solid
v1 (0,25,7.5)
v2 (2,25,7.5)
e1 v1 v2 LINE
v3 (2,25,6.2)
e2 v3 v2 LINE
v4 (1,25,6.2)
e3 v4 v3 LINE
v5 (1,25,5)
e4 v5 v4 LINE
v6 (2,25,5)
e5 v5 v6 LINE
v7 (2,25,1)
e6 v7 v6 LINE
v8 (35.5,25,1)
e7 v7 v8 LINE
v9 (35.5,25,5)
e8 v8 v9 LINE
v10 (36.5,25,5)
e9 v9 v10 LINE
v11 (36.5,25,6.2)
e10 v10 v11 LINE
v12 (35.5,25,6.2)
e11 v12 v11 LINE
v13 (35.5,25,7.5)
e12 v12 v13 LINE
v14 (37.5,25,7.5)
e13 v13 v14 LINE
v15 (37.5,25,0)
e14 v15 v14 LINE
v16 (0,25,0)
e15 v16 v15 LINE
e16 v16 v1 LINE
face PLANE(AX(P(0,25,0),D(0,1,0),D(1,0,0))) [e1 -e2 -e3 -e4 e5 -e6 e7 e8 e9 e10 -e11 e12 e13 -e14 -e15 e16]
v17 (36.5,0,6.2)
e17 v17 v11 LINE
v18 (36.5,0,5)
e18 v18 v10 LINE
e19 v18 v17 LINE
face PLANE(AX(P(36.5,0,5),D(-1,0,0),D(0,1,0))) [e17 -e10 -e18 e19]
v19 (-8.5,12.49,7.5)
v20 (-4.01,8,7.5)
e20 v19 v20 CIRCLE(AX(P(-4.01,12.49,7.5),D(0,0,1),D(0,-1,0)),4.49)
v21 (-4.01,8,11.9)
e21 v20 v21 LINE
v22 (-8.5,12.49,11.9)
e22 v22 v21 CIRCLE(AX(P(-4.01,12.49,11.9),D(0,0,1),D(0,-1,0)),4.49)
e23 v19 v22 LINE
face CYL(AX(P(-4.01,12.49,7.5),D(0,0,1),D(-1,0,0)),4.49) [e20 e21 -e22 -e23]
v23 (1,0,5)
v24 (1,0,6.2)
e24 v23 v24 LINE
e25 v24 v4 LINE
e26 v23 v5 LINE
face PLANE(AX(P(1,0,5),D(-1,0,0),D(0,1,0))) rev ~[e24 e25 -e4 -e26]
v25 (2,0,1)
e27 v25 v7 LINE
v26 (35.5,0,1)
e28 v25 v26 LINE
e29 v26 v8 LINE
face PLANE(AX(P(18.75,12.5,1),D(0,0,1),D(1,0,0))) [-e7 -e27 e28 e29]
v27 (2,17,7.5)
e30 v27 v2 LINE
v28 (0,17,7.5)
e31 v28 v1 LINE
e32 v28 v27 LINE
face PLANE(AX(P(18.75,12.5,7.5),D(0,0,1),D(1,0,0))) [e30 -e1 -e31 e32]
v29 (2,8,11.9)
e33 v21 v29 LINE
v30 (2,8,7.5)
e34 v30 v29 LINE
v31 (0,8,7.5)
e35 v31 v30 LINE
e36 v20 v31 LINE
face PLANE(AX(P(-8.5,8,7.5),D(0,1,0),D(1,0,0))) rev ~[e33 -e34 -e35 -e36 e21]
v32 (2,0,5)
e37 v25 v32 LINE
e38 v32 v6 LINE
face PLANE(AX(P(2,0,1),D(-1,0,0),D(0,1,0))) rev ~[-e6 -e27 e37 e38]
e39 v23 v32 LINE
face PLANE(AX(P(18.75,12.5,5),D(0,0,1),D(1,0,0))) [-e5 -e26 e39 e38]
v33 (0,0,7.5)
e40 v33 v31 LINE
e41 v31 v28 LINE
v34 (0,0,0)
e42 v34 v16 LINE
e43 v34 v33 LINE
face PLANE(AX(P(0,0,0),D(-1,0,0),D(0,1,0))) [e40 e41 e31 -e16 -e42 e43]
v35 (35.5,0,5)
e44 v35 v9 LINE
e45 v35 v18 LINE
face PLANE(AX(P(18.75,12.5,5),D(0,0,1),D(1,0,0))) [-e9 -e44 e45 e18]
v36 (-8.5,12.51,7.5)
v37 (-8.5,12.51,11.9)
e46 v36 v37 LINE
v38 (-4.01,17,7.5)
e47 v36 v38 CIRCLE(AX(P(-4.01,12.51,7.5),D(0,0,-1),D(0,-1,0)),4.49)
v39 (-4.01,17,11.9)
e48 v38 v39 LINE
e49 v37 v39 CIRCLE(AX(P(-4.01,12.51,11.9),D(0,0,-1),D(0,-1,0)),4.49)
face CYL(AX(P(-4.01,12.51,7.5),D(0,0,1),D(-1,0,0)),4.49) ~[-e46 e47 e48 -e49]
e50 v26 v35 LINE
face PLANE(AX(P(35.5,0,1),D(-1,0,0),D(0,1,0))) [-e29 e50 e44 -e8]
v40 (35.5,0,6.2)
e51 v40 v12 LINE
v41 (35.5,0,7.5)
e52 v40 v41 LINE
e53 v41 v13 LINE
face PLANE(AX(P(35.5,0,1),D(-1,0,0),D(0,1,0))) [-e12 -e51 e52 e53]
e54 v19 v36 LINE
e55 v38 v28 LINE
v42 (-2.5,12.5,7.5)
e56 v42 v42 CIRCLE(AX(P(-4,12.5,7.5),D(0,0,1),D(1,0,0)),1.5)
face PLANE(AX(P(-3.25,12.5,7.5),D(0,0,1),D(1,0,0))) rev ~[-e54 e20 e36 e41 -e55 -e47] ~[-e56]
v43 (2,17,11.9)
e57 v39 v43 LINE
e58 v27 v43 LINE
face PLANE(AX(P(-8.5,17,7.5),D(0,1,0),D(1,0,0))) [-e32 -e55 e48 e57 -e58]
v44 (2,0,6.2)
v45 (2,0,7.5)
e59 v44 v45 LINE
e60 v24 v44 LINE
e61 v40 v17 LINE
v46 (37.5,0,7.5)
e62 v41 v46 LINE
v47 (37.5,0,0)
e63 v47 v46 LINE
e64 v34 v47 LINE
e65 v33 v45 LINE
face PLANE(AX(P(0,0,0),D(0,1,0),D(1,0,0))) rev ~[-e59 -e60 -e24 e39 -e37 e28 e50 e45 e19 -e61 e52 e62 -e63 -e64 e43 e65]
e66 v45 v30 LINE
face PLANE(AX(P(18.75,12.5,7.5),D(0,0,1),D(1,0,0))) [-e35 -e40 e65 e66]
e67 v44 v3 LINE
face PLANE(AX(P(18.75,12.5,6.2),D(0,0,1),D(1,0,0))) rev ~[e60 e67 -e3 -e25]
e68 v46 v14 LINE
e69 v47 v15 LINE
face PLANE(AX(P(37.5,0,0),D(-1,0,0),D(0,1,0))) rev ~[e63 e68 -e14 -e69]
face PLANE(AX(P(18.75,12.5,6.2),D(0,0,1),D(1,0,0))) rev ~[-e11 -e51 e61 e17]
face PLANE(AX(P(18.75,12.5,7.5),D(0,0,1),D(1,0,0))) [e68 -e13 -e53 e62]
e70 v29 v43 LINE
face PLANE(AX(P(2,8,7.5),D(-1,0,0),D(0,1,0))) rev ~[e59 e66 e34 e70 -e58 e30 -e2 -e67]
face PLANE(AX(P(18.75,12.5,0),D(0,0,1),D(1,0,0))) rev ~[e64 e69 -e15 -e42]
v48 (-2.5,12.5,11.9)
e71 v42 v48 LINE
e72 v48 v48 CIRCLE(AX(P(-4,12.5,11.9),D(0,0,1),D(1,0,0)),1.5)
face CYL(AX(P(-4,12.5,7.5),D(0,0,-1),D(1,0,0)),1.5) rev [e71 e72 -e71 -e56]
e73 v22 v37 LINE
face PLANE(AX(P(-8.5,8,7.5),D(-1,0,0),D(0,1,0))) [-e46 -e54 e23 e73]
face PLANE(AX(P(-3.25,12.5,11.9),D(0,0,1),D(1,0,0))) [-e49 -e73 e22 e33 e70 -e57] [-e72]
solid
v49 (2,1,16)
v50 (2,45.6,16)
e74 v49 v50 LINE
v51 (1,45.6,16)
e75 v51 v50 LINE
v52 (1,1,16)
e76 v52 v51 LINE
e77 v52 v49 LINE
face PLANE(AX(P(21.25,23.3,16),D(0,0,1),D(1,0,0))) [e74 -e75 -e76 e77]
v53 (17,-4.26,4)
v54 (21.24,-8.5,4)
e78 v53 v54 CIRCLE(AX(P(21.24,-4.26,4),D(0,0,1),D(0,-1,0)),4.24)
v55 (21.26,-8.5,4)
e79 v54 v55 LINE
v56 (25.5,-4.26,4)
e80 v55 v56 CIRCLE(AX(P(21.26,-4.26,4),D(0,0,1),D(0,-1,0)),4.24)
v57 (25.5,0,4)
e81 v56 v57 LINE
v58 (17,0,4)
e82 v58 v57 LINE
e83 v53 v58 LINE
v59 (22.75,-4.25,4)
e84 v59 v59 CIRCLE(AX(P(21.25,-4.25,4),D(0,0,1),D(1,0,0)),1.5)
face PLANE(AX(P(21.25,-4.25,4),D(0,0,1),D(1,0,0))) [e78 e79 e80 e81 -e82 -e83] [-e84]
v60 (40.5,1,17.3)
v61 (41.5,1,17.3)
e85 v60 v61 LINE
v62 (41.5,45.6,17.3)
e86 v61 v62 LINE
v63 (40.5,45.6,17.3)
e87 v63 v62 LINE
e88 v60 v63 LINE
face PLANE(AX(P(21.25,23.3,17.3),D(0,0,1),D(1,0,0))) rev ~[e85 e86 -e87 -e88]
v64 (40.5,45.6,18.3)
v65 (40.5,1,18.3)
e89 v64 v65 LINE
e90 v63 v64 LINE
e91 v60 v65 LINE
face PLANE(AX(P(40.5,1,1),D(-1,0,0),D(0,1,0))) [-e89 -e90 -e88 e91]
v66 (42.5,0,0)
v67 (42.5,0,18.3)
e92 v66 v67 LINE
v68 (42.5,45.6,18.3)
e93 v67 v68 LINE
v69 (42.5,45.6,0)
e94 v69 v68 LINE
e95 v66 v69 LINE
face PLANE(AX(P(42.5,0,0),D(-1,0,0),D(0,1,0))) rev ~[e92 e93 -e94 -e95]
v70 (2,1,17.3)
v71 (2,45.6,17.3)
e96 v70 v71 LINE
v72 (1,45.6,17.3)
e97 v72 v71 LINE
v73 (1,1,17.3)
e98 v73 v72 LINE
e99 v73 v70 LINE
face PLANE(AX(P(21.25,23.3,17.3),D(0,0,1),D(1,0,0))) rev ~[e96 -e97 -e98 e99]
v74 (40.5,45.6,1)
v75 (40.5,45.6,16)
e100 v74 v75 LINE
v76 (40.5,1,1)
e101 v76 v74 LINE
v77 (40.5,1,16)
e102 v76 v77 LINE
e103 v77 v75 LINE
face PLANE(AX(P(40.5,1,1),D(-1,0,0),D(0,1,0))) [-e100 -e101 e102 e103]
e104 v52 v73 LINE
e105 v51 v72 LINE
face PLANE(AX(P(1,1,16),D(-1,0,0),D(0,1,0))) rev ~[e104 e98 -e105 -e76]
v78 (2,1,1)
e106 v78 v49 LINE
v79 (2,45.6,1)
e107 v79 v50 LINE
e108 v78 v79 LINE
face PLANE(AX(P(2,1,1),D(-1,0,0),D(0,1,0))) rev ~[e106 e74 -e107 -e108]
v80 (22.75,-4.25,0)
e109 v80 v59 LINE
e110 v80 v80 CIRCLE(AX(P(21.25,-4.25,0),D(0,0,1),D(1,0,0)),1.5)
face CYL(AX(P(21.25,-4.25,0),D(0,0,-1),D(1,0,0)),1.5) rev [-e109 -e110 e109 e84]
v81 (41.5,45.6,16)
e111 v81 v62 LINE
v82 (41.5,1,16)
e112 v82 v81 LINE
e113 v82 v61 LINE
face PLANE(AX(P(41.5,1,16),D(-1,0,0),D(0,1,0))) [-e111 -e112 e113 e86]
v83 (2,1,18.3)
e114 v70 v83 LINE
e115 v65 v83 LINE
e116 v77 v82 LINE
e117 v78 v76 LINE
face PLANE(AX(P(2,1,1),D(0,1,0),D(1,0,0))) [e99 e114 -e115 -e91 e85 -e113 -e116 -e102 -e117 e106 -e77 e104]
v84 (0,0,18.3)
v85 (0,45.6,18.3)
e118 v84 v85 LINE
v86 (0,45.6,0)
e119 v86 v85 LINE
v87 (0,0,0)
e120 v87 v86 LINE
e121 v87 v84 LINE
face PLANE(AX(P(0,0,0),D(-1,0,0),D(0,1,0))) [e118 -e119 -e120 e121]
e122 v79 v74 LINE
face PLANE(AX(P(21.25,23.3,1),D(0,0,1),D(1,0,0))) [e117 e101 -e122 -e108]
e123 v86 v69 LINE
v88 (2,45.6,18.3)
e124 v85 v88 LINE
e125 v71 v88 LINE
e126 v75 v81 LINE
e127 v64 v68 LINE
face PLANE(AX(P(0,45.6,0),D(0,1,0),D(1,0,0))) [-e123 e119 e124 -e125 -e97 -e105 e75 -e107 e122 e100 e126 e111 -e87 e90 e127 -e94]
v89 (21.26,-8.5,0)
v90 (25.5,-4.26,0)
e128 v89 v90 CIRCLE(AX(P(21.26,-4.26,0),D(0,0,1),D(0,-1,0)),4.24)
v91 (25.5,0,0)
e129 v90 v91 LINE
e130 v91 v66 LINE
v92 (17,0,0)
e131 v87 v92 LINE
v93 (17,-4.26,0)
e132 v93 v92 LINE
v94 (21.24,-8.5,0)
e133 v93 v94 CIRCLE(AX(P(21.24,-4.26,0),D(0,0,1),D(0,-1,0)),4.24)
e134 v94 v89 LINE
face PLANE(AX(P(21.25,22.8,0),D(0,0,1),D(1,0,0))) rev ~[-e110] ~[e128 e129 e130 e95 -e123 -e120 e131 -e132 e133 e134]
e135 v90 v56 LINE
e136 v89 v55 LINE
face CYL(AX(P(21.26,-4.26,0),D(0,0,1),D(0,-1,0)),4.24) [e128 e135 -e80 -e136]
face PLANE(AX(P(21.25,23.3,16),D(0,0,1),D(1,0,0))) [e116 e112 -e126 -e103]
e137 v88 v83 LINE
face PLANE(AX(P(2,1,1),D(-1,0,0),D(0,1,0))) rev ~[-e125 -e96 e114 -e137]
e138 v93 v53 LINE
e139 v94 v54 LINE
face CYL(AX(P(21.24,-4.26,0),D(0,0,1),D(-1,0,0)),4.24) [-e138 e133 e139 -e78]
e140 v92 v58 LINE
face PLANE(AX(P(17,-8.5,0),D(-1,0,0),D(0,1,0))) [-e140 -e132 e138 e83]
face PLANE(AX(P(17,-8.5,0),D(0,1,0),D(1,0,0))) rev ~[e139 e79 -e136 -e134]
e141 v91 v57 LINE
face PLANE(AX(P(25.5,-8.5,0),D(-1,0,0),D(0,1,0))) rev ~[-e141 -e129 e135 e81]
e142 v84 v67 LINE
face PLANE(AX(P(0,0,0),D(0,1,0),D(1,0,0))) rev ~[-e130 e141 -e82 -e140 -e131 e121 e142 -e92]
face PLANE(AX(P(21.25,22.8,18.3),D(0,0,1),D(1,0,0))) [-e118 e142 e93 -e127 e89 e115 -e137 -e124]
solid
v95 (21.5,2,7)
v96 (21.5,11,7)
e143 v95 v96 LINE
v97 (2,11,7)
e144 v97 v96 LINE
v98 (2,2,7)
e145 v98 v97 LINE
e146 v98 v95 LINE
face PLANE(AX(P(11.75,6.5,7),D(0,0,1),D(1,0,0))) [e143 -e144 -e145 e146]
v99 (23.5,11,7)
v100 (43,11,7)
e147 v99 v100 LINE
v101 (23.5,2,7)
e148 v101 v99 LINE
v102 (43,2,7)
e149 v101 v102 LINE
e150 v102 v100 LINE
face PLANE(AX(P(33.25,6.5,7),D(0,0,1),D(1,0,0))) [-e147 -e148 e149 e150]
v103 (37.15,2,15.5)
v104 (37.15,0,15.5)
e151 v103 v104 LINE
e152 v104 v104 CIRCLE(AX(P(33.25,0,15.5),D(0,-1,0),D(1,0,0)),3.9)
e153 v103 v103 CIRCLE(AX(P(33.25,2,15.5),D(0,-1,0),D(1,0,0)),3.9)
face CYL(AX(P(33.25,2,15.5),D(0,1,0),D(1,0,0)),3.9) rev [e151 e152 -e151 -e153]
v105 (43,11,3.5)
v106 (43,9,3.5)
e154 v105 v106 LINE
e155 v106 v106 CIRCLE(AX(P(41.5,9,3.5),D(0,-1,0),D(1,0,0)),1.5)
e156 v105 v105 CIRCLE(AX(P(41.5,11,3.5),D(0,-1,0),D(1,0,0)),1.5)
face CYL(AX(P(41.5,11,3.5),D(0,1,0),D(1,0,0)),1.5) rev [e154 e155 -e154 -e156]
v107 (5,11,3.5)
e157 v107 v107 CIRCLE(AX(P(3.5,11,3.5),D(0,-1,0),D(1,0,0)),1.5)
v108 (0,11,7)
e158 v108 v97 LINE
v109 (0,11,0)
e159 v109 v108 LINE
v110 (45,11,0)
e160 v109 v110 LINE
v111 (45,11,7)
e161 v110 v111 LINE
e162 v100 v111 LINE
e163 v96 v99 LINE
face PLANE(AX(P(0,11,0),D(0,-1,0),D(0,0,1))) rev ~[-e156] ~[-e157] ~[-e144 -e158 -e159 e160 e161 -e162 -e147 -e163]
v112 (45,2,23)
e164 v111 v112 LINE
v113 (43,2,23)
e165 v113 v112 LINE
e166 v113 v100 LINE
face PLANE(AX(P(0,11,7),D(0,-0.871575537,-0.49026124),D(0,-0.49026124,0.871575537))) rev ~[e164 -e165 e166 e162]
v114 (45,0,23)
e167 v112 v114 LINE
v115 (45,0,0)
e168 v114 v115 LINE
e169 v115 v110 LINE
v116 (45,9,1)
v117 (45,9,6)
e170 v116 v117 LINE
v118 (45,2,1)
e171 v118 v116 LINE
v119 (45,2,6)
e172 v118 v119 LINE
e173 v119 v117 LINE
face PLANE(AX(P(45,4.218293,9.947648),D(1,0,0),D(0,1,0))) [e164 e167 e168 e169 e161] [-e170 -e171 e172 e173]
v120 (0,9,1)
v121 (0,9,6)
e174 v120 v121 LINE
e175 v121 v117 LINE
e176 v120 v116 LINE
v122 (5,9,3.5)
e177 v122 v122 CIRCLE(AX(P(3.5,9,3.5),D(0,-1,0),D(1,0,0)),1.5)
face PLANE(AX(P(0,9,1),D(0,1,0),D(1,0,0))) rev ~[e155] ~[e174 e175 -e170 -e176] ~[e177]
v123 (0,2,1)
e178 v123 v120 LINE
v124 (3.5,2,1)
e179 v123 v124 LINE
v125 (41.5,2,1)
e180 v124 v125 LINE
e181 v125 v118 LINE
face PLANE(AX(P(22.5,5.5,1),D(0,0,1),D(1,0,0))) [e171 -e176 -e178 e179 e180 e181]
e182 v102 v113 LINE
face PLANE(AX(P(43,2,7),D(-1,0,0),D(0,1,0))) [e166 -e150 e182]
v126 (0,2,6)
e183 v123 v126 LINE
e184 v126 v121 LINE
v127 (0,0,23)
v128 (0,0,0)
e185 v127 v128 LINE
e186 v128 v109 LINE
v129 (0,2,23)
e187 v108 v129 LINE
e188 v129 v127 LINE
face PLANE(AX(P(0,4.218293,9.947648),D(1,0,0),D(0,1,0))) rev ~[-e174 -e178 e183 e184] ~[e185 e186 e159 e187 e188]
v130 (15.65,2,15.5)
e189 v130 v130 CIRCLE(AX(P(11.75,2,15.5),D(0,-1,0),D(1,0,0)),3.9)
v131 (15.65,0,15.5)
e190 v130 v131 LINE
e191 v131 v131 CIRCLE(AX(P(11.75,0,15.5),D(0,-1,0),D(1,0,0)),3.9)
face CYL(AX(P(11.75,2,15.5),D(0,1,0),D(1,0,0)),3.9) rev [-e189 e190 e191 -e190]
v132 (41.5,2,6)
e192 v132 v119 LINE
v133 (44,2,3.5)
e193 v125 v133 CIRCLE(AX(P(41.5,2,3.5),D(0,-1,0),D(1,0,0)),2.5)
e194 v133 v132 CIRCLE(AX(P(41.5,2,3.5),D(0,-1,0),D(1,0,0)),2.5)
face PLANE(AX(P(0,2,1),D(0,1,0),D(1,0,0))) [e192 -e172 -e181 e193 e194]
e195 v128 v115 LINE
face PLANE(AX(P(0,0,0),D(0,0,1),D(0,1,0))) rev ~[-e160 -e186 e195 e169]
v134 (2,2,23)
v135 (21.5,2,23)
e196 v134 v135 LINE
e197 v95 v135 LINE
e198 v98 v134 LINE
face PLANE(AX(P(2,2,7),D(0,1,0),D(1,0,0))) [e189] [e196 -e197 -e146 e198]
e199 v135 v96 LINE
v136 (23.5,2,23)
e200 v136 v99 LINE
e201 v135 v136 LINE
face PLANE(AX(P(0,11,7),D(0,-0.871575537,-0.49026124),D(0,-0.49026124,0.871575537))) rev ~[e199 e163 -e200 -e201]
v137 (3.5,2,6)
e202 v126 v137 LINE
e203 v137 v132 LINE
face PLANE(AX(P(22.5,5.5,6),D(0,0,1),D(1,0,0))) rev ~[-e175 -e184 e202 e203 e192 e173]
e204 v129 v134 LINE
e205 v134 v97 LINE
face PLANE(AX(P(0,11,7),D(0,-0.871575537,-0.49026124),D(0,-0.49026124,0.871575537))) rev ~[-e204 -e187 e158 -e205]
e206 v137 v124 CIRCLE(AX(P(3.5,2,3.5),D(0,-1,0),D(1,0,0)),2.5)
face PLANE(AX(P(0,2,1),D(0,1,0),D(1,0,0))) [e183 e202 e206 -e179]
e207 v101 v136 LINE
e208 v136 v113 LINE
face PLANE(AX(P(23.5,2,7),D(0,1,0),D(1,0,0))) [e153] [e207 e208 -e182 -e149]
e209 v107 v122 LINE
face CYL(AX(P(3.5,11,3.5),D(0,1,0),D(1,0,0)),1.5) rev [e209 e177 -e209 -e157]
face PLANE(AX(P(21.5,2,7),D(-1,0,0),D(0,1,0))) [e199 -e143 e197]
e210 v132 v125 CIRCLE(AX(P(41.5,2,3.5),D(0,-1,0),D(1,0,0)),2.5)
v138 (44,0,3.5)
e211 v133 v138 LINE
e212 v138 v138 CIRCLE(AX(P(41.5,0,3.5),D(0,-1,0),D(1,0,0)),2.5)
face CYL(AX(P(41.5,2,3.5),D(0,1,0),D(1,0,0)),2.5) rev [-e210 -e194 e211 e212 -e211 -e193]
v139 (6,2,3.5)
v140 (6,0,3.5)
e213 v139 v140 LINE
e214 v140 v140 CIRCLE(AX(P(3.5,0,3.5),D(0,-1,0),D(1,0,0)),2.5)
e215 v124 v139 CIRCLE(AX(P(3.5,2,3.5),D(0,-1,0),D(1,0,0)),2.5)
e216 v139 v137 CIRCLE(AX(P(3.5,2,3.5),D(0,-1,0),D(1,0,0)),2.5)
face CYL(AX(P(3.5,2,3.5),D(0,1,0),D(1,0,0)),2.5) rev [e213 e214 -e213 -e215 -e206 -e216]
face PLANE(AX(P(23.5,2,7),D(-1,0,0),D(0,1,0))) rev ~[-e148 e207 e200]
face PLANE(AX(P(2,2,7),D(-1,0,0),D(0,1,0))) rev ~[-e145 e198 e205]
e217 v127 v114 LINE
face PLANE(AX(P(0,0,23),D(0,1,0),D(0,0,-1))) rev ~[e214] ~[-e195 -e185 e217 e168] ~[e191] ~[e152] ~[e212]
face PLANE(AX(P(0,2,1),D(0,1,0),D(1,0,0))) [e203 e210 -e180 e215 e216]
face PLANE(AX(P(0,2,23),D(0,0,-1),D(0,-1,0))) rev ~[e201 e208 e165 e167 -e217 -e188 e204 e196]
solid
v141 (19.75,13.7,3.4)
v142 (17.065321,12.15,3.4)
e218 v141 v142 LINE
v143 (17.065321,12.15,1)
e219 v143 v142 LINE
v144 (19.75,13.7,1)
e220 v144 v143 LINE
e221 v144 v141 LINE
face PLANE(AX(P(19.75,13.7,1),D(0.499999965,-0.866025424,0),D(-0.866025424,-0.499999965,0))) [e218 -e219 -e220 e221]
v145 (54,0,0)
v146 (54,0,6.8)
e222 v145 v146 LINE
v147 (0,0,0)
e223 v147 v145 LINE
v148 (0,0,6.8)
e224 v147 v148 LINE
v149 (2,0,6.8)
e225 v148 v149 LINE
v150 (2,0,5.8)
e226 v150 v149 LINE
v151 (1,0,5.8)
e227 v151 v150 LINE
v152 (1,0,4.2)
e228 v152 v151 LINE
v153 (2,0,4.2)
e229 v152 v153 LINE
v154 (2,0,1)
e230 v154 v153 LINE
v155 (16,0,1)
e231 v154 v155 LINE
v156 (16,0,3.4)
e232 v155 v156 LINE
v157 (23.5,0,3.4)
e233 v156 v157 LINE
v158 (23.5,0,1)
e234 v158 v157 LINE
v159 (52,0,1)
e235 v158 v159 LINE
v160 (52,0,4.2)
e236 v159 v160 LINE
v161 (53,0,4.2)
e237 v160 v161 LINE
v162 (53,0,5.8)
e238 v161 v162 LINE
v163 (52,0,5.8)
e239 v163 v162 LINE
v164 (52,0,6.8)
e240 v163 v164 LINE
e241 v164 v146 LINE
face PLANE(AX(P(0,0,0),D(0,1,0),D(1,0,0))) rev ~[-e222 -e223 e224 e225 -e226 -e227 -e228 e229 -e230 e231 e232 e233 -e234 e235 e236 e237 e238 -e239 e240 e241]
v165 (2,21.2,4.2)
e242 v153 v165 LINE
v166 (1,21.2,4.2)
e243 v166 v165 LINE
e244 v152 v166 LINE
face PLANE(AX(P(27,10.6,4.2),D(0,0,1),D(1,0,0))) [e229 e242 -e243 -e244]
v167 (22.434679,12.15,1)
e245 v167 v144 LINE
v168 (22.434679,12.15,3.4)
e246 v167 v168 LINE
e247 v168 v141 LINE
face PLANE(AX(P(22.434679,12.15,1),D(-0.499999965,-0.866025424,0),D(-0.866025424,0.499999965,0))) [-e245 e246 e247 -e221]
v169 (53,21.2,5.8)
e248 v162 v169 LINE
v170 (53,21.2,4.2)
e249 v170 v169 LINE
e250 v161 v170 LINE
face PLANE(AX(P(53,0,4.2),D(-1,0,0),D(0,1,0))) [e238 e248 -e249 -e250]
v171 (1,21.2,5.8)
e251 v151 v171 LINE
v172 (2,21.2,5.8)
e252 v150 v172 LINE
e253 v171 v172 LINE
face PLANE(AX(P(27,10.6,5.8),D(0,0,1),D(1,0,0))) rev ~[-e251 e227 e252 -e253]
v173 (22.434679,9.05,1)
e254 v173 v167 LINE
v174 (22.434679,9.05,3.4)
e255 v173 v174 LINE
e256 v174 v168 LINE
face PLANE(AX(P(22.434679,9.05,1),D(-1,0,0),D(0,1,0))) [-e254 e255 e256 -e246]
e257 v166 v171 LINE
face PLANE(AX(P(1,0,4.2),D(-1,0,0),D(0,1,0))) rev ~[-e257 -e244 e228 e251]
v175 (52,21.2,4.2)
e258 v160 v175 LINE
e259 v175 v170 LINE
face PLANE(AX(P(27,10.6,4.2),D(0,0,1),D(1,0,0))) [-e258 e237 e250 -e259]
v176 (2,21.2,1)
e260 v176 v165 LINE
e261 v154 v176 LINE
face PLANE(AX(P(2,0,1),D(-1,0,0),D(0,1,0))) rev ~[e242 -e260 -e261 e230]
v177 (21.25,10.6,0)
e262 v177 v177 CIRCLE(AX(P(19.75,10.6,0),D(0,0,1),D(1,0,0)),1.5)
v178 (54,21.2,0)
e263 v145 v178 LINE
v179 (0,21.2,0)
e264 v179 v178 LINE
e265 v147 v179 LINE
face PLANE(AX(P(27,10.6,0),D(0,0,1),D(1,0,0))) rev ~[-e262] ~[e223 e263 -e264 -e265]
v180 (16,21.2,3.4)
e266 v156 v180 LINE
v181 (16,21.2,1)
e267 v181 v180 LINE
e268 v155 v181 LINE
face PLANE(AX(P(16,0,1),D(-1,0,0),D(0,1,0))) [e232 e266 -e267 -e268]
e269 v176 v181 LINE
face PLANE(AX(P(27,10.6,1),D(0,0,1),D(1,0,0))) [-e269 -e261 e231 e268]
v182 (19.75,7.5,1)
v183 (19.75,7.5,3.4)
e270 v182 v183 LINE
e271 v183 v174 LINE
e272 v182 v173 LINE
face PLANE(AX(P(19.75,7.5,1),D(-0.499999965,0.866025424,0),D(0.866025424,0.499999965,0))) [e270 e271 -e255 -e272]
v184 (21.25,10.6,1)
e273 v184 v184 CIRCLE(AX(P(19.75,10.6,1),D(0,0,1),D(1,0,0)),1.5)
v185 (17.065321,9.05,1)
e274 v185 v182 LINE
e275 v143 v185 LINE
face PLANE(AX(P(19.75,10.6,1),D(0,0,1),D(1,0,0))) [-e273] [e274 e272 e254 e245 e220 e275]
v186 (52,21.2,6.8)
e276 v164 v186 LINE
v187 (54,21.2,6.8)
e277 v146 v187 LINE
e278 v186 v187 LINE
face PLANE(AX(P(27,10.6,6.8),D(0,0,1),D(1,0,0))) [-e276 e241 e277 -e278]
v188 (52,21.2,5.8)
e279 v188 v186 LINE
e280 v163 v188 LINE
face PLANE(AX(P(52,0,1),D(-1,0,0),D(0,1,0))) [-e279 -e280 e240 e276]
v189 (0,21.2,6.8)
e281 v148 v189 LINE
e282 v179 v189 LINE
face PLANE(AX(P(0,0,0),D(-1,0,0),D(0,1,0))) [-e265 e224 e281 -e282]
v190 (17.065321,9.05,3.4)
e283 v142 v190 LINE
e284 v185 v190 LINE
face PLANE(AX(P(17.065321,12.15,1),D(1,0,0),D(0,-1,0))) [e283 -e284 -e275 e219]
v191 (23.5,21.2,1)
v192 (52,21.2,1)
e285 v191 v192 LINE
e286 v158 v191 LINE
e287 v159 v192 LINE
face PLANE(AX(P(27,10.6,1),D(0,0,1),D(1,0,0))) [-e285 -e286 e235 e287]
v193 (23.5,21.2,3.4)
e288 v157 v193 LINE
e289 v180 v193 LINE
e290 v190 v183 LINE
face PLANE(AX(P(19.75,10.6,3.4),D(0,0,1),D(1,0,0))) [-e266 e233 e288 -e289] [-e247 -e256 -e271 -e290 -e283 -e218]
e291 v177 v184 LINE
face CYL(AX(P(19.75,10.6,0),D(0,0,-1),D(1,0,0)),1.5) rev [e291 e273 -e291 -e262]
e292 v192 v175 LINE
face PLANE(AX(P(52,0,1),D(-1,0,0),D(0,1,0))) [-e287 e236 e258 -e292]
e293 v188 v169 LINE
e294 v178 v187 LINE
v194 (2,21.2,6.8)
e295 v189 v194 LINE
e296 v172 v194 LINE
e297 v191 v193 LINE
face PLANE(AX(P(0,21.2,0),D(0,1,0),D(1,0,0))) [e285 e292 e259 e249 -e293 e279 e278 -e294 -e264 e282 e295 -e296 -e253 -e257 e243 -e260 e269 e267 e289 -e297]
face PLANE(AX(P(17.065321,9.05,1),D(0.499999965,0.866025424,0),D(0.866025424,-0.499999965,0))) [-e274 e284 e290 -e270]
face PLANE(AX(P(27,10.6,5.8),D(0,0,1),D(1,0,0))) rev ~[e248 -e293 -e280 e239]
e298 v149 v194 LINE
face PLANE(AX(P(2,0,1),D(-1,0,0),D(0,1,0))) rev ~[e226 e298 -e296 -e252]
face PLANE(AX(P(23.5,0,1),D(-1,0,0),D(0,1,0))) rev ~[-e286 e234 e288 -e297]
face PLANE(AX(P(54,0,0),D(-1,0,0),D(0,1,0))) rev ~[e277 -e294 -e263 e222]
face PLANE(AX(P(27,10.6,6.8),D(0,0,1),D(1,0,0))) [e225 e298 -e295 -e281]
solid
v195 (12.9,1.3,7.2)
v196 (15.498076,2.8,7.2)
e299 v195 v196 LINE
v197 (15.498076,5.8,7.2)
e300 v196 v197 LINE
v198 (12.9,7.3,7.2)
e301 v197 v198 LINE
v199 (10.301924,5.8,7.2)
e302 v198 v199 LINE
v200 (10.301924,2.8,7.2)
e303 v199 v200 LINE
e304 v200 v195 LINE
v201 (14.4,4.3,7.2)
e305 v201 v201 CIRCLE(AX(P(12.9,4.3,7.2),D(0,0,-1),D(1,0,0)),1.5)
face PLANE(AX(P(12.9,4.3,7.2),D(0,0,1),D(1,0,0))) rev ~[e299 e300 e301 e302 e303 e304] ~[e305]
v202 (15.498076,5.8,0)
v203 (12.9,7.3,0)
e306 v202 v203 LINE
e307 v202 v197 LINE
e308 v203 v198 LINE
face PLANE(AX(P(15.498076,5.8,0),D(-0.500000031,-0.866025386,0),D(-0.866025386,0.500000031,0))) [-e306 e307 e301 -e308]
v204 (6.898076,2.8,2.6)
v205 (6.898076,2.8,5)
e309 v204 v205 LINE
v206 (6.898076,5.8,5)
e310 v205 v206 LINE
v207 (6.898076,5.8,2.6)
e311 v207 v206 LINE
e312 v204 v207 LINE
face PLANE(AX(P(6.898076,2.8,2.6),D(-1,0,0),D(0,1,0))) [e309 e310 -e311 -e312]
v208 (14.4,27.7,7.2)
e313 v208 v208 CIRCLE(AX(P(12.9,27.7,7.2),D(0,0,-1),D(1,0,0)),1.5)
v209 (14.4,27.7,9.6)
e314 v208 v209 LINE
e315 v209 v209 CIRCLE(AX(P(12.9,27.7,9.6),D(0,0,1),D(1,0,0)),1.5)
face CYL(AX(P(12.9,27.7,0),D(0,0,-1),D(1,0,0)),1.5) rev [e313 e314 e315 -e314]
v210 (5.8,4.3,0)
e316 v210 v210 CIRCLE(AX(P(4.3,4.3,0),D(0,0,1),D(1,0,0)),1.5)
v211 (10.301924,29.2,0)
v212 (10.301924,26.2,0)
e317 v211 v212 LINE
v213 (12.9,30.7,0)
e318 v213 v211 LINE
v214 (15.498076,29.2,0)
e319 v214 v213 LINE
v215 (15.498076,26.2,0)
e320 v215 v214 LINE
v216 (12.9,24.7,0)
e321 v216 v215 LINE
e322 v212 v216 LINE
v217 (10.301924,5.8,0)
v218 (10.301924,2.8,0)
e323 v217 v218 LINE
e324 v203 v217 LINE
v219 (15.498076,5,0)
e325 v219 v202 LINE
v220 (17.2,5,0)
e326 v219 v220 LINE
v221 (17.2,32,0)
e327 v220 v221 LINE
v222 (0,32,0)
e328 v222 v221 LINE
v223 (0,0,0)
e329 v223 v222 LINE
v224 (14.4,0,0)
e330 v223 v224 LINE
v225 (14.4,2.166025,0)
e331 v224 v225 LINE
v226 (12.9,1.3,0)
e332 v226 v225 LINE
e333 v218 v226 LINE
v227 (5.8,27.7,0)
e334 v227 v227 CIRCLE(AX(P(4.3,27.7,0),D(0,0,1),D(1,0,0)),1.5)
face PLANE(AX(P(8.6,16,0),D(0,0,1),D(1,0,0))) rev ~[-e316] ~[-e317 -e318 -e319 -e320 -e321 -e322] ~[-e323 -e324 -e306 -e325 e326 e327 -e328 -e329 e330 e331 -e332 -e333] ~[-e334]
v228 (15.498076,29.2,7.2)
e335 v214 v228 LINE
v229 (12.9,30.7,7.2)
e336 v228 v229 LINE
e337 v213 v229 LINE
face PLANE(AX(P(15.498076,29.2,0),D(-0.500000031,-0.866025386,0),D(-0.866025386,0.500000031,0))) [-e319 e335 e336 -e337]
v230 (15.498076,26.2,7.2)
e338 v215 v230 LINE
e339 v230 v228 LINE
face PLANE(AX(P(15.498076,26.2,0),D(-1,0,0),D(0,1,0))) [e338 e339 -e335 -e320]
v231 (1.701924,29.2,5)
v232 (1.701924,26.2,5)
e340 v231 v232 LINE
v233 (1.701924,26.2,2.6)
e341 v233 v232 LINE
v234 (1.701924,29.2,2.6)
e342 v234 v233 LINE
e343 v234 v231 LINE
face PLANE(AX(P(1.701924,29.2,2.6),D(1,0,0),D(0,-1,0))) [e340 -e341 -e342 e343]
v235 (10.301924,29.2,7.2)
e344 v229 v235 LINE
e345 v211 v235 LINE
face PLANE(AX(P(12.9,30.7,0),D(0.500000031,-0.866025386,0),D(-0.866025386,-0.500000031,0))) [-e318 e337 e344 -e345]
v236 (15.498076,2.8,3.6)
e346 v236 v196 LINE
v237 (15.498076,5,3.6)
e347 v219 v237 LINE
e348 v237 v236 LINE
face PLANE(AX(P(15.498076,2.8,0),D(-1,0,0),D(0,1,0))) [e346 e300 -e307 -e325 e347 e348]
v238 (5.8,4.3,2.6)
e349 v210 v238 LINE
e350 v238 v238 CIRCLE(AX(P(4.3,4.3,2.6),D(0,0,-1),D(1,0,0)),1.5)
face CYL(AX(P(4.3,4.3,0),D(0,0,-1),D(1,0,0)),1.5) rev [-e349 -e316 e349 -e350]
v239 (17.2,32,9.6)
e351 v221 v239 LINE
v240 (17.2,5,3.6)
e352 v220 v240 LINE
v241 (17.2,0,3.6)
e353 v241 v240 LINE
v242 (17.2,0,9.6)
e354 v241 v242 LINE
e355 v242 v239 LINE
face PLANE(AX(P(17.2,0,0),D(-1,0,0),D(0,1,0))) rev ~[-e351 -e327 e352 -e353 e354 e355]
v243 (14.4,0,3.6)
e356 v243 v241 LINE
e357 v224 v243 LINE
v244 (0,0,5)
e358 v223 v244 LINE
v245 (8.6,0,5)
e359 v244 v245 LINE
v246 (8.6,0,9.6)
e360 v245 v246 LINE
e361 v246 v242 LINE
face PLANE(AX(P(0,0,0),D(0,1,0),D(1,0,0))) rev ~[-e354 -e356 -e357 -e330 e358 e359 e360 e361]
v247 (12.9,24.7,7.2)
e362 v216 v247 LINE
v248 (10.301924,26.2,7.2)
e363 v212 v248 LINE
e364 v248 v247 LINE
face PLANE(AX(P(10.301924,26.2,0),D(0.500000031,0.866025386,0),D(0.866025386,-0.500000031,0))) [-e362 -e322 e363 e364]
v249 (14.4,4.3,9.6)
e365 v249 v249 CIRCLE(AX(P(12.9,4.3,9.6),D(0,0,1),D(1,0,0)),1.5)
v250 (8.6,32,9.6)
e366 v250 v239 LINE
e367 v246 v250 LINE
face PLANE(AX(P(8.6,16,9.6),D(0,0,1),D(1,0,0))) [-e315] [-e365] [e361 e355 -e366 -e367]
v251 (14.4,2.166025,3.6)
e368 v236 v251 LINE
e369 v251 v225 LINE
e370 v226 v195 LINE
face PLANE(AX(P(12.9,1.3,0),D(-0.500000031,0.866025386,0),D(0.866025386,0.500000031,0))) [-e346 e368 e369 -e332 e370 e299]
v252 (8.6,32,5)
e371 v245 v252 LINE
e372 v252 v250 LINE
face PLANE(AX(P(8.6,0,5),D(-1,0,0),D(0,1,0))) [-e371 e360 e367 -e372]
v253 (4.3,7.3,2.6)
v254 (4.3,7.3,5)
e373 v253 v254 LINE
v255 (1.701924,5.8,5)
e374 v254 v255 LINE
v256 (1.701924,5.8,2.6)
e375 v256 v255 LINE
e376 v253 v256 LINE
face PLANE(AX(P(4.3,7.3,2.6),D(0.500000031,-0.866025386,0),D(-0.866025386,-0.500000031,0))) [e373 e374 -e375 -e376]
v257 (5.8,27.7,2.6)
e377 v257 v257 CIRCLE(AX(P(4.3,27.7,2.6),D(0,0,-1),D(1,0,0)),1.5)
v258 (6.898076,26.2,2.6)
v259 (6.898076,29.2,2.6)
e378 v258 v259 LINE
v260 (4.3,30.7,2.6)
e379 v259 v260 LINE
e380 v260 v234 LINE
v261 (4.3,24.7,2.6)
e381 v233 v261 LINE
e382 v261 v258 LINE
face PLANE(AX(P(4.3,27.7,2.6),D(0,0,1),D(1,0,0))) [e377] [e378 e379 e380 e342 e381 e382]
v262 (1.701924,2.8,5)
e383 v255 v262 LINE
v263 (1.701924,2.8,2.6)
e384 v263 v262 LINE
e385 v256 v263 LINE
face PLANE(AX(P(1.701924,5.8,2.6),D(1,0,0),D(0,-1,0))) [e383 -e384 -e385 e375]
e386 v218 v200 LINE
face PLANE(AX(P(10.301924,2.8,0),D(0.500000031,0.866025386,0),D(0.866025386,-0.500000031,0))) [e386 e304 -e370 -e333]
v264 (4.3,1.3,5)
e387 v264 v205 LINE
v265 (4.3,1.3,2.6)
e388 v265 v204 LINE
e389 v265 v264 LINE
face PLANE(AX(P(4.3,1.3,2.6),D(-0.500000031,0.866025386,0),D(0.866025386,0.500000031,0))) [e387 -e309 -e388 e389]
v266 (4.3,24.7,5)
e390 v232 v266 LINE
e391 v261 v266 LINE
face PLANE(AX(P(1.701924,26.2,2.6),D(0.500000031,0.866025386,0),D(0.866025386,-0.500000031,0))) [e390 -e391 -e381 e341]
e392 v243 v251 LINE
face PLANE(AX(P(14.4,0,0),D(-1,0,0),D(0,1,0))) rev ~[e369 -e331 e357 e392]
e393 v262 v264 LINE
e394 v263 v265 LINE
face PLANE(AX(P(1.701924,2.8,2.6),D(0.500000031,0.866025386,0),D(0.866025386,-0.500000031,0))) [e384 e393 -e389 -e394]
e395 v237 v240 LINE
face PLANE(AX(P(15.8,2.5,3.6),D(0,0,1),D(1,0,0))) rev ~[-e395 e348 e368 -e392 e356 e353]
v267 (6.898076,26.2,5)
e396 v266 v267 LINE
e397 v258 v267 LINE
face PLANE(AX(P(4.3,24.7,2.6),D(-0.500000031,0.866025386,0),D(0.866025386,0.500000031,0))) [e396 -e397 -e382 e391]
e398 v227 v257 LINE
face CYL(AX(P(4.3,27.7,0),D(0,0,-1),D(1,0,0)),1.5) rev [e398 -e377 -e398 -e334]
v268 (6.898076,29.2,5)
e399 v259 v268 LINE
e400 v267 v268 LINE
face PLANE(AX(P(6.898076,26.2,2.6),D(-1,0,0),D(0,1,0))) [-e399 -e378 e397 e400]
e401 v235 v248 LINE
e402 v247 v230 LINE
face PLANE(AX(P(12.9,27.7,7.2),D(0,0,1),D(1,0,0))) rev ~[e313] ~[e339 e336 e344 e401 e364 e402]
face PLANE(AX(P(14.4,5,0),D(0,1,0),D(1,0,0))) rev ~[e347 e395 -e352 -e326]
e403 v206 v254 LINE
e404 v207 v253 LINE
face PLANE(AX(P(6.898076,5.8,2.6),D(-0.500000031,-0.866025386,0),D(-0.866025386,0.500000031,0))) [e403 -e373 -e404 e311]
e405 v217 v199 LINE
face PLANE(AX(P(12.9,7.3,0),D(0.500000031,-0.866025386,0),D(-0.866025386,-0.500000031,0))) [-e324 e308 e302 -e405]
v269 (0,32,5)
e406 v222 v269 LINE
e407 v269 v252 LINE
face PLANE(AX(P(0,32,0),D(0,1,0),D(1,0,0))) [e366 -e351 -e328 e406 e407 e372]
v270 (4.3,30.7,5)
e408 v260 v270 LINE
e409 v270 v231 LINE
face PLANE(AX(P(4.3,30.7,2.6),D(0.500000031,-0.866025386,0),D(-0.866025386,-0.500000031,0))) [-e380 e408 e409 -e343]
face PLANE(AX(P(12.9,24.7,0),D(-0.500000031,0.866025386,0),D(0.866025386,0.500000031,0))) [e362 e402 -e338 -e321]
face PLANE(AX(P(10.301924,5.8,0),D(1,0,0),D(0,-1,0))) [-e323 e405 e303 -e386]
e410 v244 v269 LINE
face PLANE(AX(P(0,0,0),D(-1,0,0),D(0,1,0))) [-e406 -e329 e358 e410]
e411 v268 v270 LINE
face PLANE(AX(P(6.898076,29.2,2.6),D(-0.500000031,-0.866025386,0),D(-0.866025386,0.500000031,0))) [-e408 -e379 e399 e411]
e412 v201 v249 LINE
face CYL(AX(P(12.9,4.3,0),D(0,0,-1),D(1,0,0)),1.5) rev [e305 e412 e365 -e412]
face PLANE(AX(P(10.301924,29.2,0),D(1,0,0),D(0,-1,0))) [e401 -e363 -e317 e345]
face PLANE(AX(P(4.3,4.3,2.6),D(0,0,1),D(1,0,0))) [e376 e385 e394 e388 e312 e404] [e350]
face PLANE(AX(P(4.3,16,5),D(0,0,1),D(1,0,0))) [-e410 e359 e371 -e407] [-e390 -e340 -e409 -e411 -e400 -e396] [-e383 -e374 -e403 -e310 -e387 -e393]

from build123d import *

# Parameters (mm, degrees)
PAD003_DEPTH      = 7.2
PAD002_DEPTH      = 7.2
PAD001_DEPTH      = 2.4
PAD_DEPTH         = 2.4
CYLINDER003_R     = 1.5
CYLINDER003_DEPTH = 5
CYLINDER002_R     = 1.5
CYLINDER002_DEPTH = 5
CYLINDER001_R     = 1.5
CYLINDER001_DEPTH = 9.6
CYLINDER_R        = 1.5
CYLINDER_DEPTH    = 9.6
BOX002_W          = 8.6
BOX002_H          = 32
BOX002_DEPTH      = 4.6
BOX001_W          = 2.8
BOX001_H          = 5
BOX001_DEPTH      = 3.6
BOX_W             = 17.2
BOX_H             = 32
BOX_DEPTH         = 9.6
CYLINDER004_R     = 1.5
CYLINDER004_DEPTH = 4.4
BOX006_W          = 10.5
BOX006_H          = 9
BOX006_DEPTH      = 4.4
FILLET_R          = 4.49
BOX005_W          = 35.5
BOX005_H          = 25
BOX005_DEPTH      = 1.2
BOX003_W          = 33.5
BOX003_H          = 25
BOX003_DEPTH      = 6.5
BOX004_W          = 37.5
BOX004_H          = 25
BOX004_DEPTH      = 7.5
CYLINDER005_R     = 1.5
CYLINDER005_DEPTH = 1
PAD004_DEPTH      = 2.4
BOX010_W          = 7.5
BOX010_H          = 21.2
BOX010_DEPTH      = 2.4
BOX009_W          = 52
BOX009_H          = 21.2
BOX009_DEPTH      = 1.6
BOX008_W          = 50
BOX008_H          = 21.2
BOX008_DEPTH      = 5.8
BOX007_W          = 54
BOX007_H          = 21.2
BOX007_DEPTH      = 6.8
CYLINDER011_R     = 3.9
CYLINDER011_DEPTH = 2
CYLINDER010_R     = 3.9
CYLINDER010_DEPTH = 2
CYLINDER009_R     = 1.5
CYLINDER009_DEPTH = 2
CYLINDER008_R     = 2.5
CYLINDER008_DEPTH = 2
CYLINDER007_R     = 1.5
CYLINDER007_DEPTH = 2
CYLINDER006_R     = 2.5
CYLINDER006_DEPTH = 2
BOX013_W          = 19.5
BOX013_H          = 9
BOX013_DEPTH      = 16
BOX012_W          = 19.5
BOX012_H          = 9
BOX012_DEPTH      = 16
BOX011_W          = 45
BOX011_H          = 7
BOX011_DEPTH      = 5
PAD005_DEPTH      = 45
CYLINDER012_R     = 1.5
CYLINDER012_DEPTH = 4
BOX017_W          = 8.5
BOX017_H          = 8.5
BOX017_DEPTH      = 4
FILLET001_R       = 4.24
BOX016_W          = 40.5
BOX016_H          = 44.6
BOX016_DEPTH      = 1.3
BOX015_W          = 38.5
BOX015_H          = 44.6
BOX015_DEPTH      = 18.3
BOX014_W          = 42.5
BOX014_H          = 45.6
BOX014_DEPTH      = 18.3


with BuildPart() as nut_hole003:
    # Sketch003 → Pad003 (new body)
    with BuildSketch(Plane.XY):
        Polygon((0, 3), (-2.598076, 1.5), (-2.598076, -1.5), (0, -3), (2.598076, -1.5), (2.598076, 1.5), align=None)
    extrude(amount=PAD003_DEPTH)


with BuildPart() as nut_hole003_1:
    # Body003 placement: moved
    add(nut_hole003.part.moved(Location((12.9, 4.3, 0))))


with BuildPart() as nut_hole002:
    # Sketch002 → Pad002 (new body)
    with BuildSketch(Plane.XY):
        Polygon((0, 3), (-2.598076, 1.5), (-2.598076, -1.5), (0, -3), (2.598076, -1.5), (2.598076, 1.5), align=None)
    extrude(amount=PAD002_DEPTH)


with BuildPart() as nut_hole002_1:
    # Body002 placement: moved
    add(nut_hole002.part.moved(Location((12.9, 27.7, 0))))


with BuildPart() as nut_hole001:
    # Sketch001 → Pad001 (new body)
    with BuildSketch(Plane.XY):
        Polygon((0, 3), (-2.598076, 1.5), (-2.598076, -1.5), (0, -3), (2.598076, -1.5), (2.598076, 1.5), align=None)
    extrude(amount=PAD001_DEPTH)


with BuildPart() as nut_hole001_1:
    # Body001 placement: moved
    add(nut_hole001.part.moved(Location((4.3, 27.7, 2.6))))


with BuildPart() as nut_hole:
    # Sketch → Pad (new body)
    with BuildSketch(Plane.XY):
        Polygon((0, 3), (-2.598076, 1.5), (-2.598076, -1.5), (0, -3), (2.598076, -1.5), (2.598076, 1.5), align=None)
    extrude(amount=PAD_DEPTH)


with BuildPart() as nut_hole_1:
    # Body placement: moved
    add(nut_hole.part.moved(Location((4.3, 4.3, 2.6))))


with BuildPart() as screw_hole003:
    # Cylinder003 → Cylinder003 (new body)
    with BuildSketch(Plane(origin=(4.3, 27.7, 0), x_dir=(1, 0, 0), z_dir=(0, 0, 1))):
        Circle(CYLINDER003_R)
    extrude(amount=CYLINDER003_DEPTH)


with BuildPart() as screw_hole002:
    # Cylinder002 → Cylinder002 (new body)
    with BuildSketch(Plane(origin=(4.3, 4.3, 0), x_dir=(1, 0, 0), z_dir=(0, 0, 1))):
        Circle(CYLINDER002_R)
    extrude(amount=CYLINDER002_DEPTH)


with BuildPart() as screw_hole001:
    # Cylinder001 → Cylinder001 (new body)
    with BuildSketch(Plane(origin=(12.9, 27.7, 0), x_dir=(1, 0, 0), z_dir=(0, 0, 1))):
        Circle(CYLINDER001_R)
    extrude(amount=CYLINDER001_DEPTH)


with BuildPart() as screw_hole:
    # Cylinder → Cylinder (new body)
    with BuildSketch(Plane(origin=(12.9, 4.3, 0), x_dir=(1, 0, 0), z_dir=(0, 0, 1))):
        Circle(CYLINDER_R)
    extrude(amount=CYLINDER_DEPTH)


with BuildPart() as hole:
    # Box002 → Box002 (new body)
    with BuildSketch(Plane.XY.offset(5)):
        with Locations((4.3, 16)):
            Rectangle(BOX002_W, BOX002_H)
    extrude(amount=BOX002_DEPTH)


with BuildPart() as corner_hole:
    # Box001 → Box001 (new body)
    with BuildSketch(Plane(origin=(14.4, 0, 0), x_dir=(1, 0, 0), z_dir=(0, 0, 1))):
        with Locations((1.4, 2.5)):
            Rectangle(BOX001_W, BOX001_H)
    extrude(amount=BOX001_DEPTH)


with BuildPart() as right_support:
    # Box → Box (new body)
    with BuildSketch(Plane.XY):
        with Locations((8.6, 16)):
            Rectangle(BOX_W, BOX_H)
    extrude(amount=BOX_DEPTH)

    # Cut: cut corner_hole
    add(corner_hole.part, mode=Mode.SUBTRACT)

    # Cut001: cut hole
    add(hole.part, mode=Mode.SUBTRACT)

    # Cut002: cut screw_hole
    add(screw_hole.part, mode=Mode.SUBTRACT)

    # Cut003: cut screw_hole001
    add(screw_hole001.part, mode=Mode.SUBTRACT)

    # Cut004: cut screw_hole002
    add(screw_hole002.part, mode=Mode.SUBTRACT)

    # Cut005: cut screw_hole003
    add(screw_hole003.part, mode=Mode.SUBTRACT)

    # Cut006: cut nut_hole
    add(nut_hole_1.part, mode=Mode.SUBTRACT)

    # Cut007: cut nut_hole001
    add(nut_hole001_1.part, mode=Mode.SUBTRACT)

    # Cut008: cut nut_hole002
    add(nut_hole002_1.part, mode=Mode.SUBTRACT)

    # Cut009: cut nut_hole003
    add(nut_hole003_1.part, mode=Mode.SUBTRACT)


with BuildPart() as screw_hole004:
    # Cylinder004 → Cylinder004 (new body)
    with BuildSketch(Plane(origin=(-4, 12.5, 7.5), x_dir=(1, 0, 0), z_dir=(0, 0, 1))):
        Circle(CYLINDER004_R)
    extrude(amount=CYLINDER004_DEPTH)


with BuildPart() as support001:
    # Box006 → Box006 (new body)
    with BuildSketch(Plane(origin=(-8.5, 8, 7.5), x_dir=(1, 0, 0), z_dir=(0, 0, 1))):
        with Locations((5.25, 4.5)):
            Rectangle(BOX006_W, BOX006_H)
    extrude(amount=BOX006_DEPTH)

    # Fillet
    fillet_edges = [support001.edges().sort_by_distance(p)[0] for p in [
        (-8.5, 8, 9.7),
        (-8.5, 17, 9.7),
    ]]
    fillet(fillet_edges, radius=FILLET_R)

    # Cut012: cut screw_hole004
    add(screw_hole004.part, mode=Mode.SUBTRACT)


with BuildPart() as hole002:
    # Box005 → Box005 (new body)
    with BuildSketch(Plane(origin=(1, 0, 5), x_dir=(1, 0, 0), z_dir=(0, 0, 1))):
        with Locations((17.75, 12.5)):
            Rectangle(BOX005_W, BOX005_H)
    extrude(amount=BOX005_DEPTH)


with BuildPart() as hole001:
    # Box003 → Box003 (new body)
    with BuildSketch(Plane(origin=(2, 0, 1), x_dir=(1, 0, 0), z_dir=(0, 0, 1))):
        with Locations((16.75, 12.5)):
            Rectangle(BOX003_W, BOX003_H)
    extrude(amount=BOX003_DEPTH)


with BuildPart() as power_supply_support:
    # Box004 → Box004 (new body)
    with BuildSketch(Plane.XY):
        with Locations((18.75, 12.5)):
            Rectangle(BOX004_W, BOX004_H)
    extrude(amount=BOX004_DEPTH)

    # Cut010: cut hole001
    add(hole001.part, mode=Mode.SUBTRACT)

    # Cut011: cut hole002
    add(hole002.part, mode=Mode.SUBTRACT)

    # Fusion: union support001
    add(support001.part)


with BuildPart() as screw_hole005:
    # Cylinder005 → Cylinder005 (new body)
    with BuildSketch(Plane(origin=(19.75, 10.6, 0), x_dir=(1, 0, 0), z_dir=(0, 0, 1))):
        Circle(CYLINDER005_R)
    extrude(amount=CYLINDER005_DEPTH)


with BuildPart() as nut_hole004:
    # Sketch004 → Pad004 (new body)
    with BuildSketch(Plane.XY):
        Polygon((0, 3.1), (-2.684679, 1.55), (-2.684679, -1.55), (0, -3.1), (2.684679, -1.55), (2.684679, 1.55), align=None)
    extrude(amount=PAD004_DEPTH)


with BuildPart() as nut_hole004_1:
    # Body004 placement: moved
    add(nut_hole004.part.moved(Location((19.75, 10.6, 1))))


with BuildPart() as nut_support:
    # Box010 → Box010 (new body)
    with BuildSketch(Plane(origin=(16, 0, 1), x_dir=(1, 0, 0), z_dir=(0, 0, 1))):
        with Locations((3.75, 10.6)):
            Rectangle(BOX010_W, BOX010_H)
    extrude(amount=BOX010_DEPTH)


with BuildPart() as hole004:
    # Box009 → Box009 (new body)
    with BuildSketch(Plane(origin=(1, 0, 4.2), x_dir=(1, 0, 0), z_dir=(0, 0, 1))):
        with Locations((26, 10.6)):
            Rectangle(BOX009_W, BOX009_H)
    extrude(amount=BOX009_DEPTH)


with BuildPart() as hole003:
    # Box008 → Box008 (new body)
    with BuildSketch(Plane(origin=(2, 0, 1), x_dir=(1, 0, 0), z_dir=(0, 0, 1))):
        with Locations((25, 10.6)):
            Rectangle(BOX008_W, BOX008_H)
    extrude(amount=BOX008_DEPTH)


with BuildPart() as voltage_sensor_support:
    # Box007 → Box007 (new body)
    with BuildSketch(Plane.XY):
        with Locations((27, 10.6)):
            Rectangle(BOX007_W, BOX007_H)
    extrude(amount=BOX007_DEPTH)

    # Cut013: cut hole003
    add(hole003.part, mode=Mode.SUBTRACT)

    # Cut014: cut hole004
    add(hole004.part, mode=Mode.SUBTRACT)

    # Fusion001: union nut_support
    add(nut_support.part)

    # Cut015: cut nut_hole004
    add(nut_hole004_1.part, mode=Mode.SUBTRACT)

    # Cut016: cut screw_hole005
    add(screw_hole005.part, mode=Mode.SUBTRACT)


with BuildPart() as screw_hole011:
    # Cylinder011 → Cylinder011 (new body)
    with BuildSketch(Plane(origin=(33.25, 2, 15.5), x_dir=(1, 0, 0), z_dir=(0, -1, 0))):
        Circle(CYLINDER011_R)
    extrude(amount=CYLINDER011_DEPTH)


with BuildPart() as screw_hole010:
    # Cylinder010 → Cylinder010 (new body)
    with BuildSketch(Plane(origin=(11.75, 2, 15.5), x_dir=(1, 0, 0), z_dir=(0, -1, 0))):
        Circle(CYLINDER010_R)
    extrude(amount=CYLINDER010_DEPTH)


with BuildPart() as screw_hole009:
    # Cylinder009 → Cylinder009 (new body)
    with BuildSketch(Plane(origin=(41.5, 11, 3.5), x_dir=(1, 0, 0), z_dir=(0, -1, 0))):
        Circle(CYLINDER009_R)
    extrude(amount=CYLINDER009_DEPTH)


with BuildPart() as screw_hole008:
    # Cylinder008 → Cylinder008 (new body)
    with BuildSketch(Plane(origin=(3.5, 2, 3.5), x_dir=(1, 0, 0), z_dir=(0, -1, 0))):
        Circle(CYLINDER008_R)
    extrude(amount=CYLINDER008_DEPTH)


with BuildPart() as screw_hole007:
    # Cylinder007 → Cylinder007 (new body)
    with BuildSketch(Plane(origin=(3.5, 11, 3.5), x_dir=(1, 0, 0), z_dir=(0, -1, 0))):
        Circle(CYLINDER007_R)
    extrude(amount=CYLINDER007_DEPTH)


with BuildPart() as screw_hole006:
    # Cylinder006 → Cylinder006 (new body)
    with BuildSketch(Plane(origin=(41.5, 2, 3.5), x_dir=(1, 0, 0), z_dir=(0, -1, 0))):
        Circle(CYLINDER006_R)
    extrude(amount=CYLINDER006_DEPTH)


with BuildPart() as hole007:
    # Box013 → Box013 (new body)
    with BuildSketch(Plane(origin=(2, 2, 7), x_dir=(1, 0, 0), z_dir=(0, 0, 1))):
        with Locations((9.75, 4.5)):
            Rectangle(BOX013_W, BOX013_H)
    extrude(amount=BOX013_DEPTH)


with BuildPart() as hole006:
    # Box012 → Box012 (new body)
    with BuildSketch(Plane(origin=(23.5, 2, 7), x_dir=(1, 0, 0), z_dir=(0, 0, 1))):
        with Locations((9.75, 4.5)):
            Rectangle(BOX012_W, BOX012_H)
    extrude(amount=BOX012_DEPTH)


with BuildPart() as hole005:
    # Box011 → Box011 (new body)
    with BuildSketch(Plane(origin=(0, 2, 1), x_dir=(1, 0, 0), z_dir=(0, 0, 1))):
        with Locations((22.5, 3.5)):
            Rectangle(BOX011_W, BOX011_H)
    extrude(amount=BOX011_DEPTH)


with BuildPart() as wires_support:
    # Sketch005 → Pad005 (new body)
    with BuildSketch(Plane.YZ):
        Polygon((0, 0), (11, 0), (11, 7), (2, 23), (0, 23), align=None)
    extrude(amount=PAD005_DEPTH)

    # Cut017: cut hole005
    add(hole005.part, mode=Mode.SUBTRACT)

    # Cut018: cut hole006
    add(hole006.part, mode=Mode.SUBTRACT)

    # Cut019: cut hole007
    add(hole007.part, mode=Mode.SUBTRACT)

    # Cut020: cut screw_hole006
    add(screw_hole006.part, mode=Mode.SUBTRACT)

    # Cut021: cut screw_hole007
    add(screw_hole007.part, mode=Mode.SUBTRACT)

    # Cut022: cut screw_hole008
    add(screw_hole008.part, mode=Mode.SUBTRACT)

    # Cut023: cut screw_hole009
    add(screw_hole009.part, mode=Mode.SUBTRACT)

    # Cut024: cut screw_hole010
    add(screw_hole010.part, mode=Mode.SUBTRACT)

    # Cut025: cut screw_hole011
    add(screw_hole011.part, mode=Mode.SUBTRACT)


with BuildPart() as screw_hole012:
    # Cylinder012 → Cylinder012 (new body)
    with BuildSketch(Plane(origin=(4.25, 4.25, 0), x_dir=(1, 0, 0), z_dir=(0, 0, 1))):
        Circle(CYLINDER012_R)
    extrude(amount=CYLINDER012_DEPTH)


with BuildPart() as support004:
    # Box017 → Box017 (new body)
    with BuildSketch(Plane.XY):
        with Locations((4.25, 4.25)):
            Rectangle(BOX017_W, BOX017_H)
    extrude(amount=BOX017_DEPTH)

    # Cut028: cut screw_hole012
    add(screw_hole012.part, mode=Mode.SUBTRACT)

    # Fillet001
    fillet001_edges = [support004.edges().sort_by_distance(p)[0] for p in [
        (0, 0, 2),
        (8.5, 0, 2),
    ]]
    fillet(fillet001_edges, radius=FILLET001_R)


with BuildPart() as support004_1:
    # Fillet001 placement: moved
    add(support004.part.moved(Location((17, -8.5, 0))))


with BuildPart() as pdb_hole:
    # Box016 → Box016 (new body)
    with BuildSketch(Plane(origin=(1, 1, 16), x_dir=(1, 0, 0), z_dir=(0, 0, 1))):
        with Locations((20.25, 22.3)):
            Rectangle(BOX016_W, BOX016_H)
    extrude(amount=BOX016_DEPTH)


with BuildPart() as hole008:
    # Box015 → Box015 (new body)
    with BuildSketch(Plane(origin=(2, 1, 1), x_dir=(1, 0, 0), z_dir=(0, 0, 1))):
        with Locations((19.25, 22.3)):
            Rectangle(BOX015_W, BOX015_H)
    extrude(amount=BOX015_DEPTH)


with BuildPart() as power_supply_support_v2:
    # Box014 → Box014 (new body)
    with BuildSketch(Plane.XY):
        with Locations((21.25, 22.8)):
            Rectangle(BOX014_W, BOX014_H)
    extrude(amount=BOX014_DEPTH)

    # Cut026: cut hole008
    add(hole008.part, mode=Mode.SUBTRACT)

    # Cut027: cut pdb_hole
    add(pdb_hole.part, mode=Mode.SUBTRACT)

    # Fusion002: union support004
    add(support004_1.part)


solid = Compound([right_support.part, power_supply_support.part, voltage_sensor_support.part, wires_support.part, power_supply_support_v2.part])
